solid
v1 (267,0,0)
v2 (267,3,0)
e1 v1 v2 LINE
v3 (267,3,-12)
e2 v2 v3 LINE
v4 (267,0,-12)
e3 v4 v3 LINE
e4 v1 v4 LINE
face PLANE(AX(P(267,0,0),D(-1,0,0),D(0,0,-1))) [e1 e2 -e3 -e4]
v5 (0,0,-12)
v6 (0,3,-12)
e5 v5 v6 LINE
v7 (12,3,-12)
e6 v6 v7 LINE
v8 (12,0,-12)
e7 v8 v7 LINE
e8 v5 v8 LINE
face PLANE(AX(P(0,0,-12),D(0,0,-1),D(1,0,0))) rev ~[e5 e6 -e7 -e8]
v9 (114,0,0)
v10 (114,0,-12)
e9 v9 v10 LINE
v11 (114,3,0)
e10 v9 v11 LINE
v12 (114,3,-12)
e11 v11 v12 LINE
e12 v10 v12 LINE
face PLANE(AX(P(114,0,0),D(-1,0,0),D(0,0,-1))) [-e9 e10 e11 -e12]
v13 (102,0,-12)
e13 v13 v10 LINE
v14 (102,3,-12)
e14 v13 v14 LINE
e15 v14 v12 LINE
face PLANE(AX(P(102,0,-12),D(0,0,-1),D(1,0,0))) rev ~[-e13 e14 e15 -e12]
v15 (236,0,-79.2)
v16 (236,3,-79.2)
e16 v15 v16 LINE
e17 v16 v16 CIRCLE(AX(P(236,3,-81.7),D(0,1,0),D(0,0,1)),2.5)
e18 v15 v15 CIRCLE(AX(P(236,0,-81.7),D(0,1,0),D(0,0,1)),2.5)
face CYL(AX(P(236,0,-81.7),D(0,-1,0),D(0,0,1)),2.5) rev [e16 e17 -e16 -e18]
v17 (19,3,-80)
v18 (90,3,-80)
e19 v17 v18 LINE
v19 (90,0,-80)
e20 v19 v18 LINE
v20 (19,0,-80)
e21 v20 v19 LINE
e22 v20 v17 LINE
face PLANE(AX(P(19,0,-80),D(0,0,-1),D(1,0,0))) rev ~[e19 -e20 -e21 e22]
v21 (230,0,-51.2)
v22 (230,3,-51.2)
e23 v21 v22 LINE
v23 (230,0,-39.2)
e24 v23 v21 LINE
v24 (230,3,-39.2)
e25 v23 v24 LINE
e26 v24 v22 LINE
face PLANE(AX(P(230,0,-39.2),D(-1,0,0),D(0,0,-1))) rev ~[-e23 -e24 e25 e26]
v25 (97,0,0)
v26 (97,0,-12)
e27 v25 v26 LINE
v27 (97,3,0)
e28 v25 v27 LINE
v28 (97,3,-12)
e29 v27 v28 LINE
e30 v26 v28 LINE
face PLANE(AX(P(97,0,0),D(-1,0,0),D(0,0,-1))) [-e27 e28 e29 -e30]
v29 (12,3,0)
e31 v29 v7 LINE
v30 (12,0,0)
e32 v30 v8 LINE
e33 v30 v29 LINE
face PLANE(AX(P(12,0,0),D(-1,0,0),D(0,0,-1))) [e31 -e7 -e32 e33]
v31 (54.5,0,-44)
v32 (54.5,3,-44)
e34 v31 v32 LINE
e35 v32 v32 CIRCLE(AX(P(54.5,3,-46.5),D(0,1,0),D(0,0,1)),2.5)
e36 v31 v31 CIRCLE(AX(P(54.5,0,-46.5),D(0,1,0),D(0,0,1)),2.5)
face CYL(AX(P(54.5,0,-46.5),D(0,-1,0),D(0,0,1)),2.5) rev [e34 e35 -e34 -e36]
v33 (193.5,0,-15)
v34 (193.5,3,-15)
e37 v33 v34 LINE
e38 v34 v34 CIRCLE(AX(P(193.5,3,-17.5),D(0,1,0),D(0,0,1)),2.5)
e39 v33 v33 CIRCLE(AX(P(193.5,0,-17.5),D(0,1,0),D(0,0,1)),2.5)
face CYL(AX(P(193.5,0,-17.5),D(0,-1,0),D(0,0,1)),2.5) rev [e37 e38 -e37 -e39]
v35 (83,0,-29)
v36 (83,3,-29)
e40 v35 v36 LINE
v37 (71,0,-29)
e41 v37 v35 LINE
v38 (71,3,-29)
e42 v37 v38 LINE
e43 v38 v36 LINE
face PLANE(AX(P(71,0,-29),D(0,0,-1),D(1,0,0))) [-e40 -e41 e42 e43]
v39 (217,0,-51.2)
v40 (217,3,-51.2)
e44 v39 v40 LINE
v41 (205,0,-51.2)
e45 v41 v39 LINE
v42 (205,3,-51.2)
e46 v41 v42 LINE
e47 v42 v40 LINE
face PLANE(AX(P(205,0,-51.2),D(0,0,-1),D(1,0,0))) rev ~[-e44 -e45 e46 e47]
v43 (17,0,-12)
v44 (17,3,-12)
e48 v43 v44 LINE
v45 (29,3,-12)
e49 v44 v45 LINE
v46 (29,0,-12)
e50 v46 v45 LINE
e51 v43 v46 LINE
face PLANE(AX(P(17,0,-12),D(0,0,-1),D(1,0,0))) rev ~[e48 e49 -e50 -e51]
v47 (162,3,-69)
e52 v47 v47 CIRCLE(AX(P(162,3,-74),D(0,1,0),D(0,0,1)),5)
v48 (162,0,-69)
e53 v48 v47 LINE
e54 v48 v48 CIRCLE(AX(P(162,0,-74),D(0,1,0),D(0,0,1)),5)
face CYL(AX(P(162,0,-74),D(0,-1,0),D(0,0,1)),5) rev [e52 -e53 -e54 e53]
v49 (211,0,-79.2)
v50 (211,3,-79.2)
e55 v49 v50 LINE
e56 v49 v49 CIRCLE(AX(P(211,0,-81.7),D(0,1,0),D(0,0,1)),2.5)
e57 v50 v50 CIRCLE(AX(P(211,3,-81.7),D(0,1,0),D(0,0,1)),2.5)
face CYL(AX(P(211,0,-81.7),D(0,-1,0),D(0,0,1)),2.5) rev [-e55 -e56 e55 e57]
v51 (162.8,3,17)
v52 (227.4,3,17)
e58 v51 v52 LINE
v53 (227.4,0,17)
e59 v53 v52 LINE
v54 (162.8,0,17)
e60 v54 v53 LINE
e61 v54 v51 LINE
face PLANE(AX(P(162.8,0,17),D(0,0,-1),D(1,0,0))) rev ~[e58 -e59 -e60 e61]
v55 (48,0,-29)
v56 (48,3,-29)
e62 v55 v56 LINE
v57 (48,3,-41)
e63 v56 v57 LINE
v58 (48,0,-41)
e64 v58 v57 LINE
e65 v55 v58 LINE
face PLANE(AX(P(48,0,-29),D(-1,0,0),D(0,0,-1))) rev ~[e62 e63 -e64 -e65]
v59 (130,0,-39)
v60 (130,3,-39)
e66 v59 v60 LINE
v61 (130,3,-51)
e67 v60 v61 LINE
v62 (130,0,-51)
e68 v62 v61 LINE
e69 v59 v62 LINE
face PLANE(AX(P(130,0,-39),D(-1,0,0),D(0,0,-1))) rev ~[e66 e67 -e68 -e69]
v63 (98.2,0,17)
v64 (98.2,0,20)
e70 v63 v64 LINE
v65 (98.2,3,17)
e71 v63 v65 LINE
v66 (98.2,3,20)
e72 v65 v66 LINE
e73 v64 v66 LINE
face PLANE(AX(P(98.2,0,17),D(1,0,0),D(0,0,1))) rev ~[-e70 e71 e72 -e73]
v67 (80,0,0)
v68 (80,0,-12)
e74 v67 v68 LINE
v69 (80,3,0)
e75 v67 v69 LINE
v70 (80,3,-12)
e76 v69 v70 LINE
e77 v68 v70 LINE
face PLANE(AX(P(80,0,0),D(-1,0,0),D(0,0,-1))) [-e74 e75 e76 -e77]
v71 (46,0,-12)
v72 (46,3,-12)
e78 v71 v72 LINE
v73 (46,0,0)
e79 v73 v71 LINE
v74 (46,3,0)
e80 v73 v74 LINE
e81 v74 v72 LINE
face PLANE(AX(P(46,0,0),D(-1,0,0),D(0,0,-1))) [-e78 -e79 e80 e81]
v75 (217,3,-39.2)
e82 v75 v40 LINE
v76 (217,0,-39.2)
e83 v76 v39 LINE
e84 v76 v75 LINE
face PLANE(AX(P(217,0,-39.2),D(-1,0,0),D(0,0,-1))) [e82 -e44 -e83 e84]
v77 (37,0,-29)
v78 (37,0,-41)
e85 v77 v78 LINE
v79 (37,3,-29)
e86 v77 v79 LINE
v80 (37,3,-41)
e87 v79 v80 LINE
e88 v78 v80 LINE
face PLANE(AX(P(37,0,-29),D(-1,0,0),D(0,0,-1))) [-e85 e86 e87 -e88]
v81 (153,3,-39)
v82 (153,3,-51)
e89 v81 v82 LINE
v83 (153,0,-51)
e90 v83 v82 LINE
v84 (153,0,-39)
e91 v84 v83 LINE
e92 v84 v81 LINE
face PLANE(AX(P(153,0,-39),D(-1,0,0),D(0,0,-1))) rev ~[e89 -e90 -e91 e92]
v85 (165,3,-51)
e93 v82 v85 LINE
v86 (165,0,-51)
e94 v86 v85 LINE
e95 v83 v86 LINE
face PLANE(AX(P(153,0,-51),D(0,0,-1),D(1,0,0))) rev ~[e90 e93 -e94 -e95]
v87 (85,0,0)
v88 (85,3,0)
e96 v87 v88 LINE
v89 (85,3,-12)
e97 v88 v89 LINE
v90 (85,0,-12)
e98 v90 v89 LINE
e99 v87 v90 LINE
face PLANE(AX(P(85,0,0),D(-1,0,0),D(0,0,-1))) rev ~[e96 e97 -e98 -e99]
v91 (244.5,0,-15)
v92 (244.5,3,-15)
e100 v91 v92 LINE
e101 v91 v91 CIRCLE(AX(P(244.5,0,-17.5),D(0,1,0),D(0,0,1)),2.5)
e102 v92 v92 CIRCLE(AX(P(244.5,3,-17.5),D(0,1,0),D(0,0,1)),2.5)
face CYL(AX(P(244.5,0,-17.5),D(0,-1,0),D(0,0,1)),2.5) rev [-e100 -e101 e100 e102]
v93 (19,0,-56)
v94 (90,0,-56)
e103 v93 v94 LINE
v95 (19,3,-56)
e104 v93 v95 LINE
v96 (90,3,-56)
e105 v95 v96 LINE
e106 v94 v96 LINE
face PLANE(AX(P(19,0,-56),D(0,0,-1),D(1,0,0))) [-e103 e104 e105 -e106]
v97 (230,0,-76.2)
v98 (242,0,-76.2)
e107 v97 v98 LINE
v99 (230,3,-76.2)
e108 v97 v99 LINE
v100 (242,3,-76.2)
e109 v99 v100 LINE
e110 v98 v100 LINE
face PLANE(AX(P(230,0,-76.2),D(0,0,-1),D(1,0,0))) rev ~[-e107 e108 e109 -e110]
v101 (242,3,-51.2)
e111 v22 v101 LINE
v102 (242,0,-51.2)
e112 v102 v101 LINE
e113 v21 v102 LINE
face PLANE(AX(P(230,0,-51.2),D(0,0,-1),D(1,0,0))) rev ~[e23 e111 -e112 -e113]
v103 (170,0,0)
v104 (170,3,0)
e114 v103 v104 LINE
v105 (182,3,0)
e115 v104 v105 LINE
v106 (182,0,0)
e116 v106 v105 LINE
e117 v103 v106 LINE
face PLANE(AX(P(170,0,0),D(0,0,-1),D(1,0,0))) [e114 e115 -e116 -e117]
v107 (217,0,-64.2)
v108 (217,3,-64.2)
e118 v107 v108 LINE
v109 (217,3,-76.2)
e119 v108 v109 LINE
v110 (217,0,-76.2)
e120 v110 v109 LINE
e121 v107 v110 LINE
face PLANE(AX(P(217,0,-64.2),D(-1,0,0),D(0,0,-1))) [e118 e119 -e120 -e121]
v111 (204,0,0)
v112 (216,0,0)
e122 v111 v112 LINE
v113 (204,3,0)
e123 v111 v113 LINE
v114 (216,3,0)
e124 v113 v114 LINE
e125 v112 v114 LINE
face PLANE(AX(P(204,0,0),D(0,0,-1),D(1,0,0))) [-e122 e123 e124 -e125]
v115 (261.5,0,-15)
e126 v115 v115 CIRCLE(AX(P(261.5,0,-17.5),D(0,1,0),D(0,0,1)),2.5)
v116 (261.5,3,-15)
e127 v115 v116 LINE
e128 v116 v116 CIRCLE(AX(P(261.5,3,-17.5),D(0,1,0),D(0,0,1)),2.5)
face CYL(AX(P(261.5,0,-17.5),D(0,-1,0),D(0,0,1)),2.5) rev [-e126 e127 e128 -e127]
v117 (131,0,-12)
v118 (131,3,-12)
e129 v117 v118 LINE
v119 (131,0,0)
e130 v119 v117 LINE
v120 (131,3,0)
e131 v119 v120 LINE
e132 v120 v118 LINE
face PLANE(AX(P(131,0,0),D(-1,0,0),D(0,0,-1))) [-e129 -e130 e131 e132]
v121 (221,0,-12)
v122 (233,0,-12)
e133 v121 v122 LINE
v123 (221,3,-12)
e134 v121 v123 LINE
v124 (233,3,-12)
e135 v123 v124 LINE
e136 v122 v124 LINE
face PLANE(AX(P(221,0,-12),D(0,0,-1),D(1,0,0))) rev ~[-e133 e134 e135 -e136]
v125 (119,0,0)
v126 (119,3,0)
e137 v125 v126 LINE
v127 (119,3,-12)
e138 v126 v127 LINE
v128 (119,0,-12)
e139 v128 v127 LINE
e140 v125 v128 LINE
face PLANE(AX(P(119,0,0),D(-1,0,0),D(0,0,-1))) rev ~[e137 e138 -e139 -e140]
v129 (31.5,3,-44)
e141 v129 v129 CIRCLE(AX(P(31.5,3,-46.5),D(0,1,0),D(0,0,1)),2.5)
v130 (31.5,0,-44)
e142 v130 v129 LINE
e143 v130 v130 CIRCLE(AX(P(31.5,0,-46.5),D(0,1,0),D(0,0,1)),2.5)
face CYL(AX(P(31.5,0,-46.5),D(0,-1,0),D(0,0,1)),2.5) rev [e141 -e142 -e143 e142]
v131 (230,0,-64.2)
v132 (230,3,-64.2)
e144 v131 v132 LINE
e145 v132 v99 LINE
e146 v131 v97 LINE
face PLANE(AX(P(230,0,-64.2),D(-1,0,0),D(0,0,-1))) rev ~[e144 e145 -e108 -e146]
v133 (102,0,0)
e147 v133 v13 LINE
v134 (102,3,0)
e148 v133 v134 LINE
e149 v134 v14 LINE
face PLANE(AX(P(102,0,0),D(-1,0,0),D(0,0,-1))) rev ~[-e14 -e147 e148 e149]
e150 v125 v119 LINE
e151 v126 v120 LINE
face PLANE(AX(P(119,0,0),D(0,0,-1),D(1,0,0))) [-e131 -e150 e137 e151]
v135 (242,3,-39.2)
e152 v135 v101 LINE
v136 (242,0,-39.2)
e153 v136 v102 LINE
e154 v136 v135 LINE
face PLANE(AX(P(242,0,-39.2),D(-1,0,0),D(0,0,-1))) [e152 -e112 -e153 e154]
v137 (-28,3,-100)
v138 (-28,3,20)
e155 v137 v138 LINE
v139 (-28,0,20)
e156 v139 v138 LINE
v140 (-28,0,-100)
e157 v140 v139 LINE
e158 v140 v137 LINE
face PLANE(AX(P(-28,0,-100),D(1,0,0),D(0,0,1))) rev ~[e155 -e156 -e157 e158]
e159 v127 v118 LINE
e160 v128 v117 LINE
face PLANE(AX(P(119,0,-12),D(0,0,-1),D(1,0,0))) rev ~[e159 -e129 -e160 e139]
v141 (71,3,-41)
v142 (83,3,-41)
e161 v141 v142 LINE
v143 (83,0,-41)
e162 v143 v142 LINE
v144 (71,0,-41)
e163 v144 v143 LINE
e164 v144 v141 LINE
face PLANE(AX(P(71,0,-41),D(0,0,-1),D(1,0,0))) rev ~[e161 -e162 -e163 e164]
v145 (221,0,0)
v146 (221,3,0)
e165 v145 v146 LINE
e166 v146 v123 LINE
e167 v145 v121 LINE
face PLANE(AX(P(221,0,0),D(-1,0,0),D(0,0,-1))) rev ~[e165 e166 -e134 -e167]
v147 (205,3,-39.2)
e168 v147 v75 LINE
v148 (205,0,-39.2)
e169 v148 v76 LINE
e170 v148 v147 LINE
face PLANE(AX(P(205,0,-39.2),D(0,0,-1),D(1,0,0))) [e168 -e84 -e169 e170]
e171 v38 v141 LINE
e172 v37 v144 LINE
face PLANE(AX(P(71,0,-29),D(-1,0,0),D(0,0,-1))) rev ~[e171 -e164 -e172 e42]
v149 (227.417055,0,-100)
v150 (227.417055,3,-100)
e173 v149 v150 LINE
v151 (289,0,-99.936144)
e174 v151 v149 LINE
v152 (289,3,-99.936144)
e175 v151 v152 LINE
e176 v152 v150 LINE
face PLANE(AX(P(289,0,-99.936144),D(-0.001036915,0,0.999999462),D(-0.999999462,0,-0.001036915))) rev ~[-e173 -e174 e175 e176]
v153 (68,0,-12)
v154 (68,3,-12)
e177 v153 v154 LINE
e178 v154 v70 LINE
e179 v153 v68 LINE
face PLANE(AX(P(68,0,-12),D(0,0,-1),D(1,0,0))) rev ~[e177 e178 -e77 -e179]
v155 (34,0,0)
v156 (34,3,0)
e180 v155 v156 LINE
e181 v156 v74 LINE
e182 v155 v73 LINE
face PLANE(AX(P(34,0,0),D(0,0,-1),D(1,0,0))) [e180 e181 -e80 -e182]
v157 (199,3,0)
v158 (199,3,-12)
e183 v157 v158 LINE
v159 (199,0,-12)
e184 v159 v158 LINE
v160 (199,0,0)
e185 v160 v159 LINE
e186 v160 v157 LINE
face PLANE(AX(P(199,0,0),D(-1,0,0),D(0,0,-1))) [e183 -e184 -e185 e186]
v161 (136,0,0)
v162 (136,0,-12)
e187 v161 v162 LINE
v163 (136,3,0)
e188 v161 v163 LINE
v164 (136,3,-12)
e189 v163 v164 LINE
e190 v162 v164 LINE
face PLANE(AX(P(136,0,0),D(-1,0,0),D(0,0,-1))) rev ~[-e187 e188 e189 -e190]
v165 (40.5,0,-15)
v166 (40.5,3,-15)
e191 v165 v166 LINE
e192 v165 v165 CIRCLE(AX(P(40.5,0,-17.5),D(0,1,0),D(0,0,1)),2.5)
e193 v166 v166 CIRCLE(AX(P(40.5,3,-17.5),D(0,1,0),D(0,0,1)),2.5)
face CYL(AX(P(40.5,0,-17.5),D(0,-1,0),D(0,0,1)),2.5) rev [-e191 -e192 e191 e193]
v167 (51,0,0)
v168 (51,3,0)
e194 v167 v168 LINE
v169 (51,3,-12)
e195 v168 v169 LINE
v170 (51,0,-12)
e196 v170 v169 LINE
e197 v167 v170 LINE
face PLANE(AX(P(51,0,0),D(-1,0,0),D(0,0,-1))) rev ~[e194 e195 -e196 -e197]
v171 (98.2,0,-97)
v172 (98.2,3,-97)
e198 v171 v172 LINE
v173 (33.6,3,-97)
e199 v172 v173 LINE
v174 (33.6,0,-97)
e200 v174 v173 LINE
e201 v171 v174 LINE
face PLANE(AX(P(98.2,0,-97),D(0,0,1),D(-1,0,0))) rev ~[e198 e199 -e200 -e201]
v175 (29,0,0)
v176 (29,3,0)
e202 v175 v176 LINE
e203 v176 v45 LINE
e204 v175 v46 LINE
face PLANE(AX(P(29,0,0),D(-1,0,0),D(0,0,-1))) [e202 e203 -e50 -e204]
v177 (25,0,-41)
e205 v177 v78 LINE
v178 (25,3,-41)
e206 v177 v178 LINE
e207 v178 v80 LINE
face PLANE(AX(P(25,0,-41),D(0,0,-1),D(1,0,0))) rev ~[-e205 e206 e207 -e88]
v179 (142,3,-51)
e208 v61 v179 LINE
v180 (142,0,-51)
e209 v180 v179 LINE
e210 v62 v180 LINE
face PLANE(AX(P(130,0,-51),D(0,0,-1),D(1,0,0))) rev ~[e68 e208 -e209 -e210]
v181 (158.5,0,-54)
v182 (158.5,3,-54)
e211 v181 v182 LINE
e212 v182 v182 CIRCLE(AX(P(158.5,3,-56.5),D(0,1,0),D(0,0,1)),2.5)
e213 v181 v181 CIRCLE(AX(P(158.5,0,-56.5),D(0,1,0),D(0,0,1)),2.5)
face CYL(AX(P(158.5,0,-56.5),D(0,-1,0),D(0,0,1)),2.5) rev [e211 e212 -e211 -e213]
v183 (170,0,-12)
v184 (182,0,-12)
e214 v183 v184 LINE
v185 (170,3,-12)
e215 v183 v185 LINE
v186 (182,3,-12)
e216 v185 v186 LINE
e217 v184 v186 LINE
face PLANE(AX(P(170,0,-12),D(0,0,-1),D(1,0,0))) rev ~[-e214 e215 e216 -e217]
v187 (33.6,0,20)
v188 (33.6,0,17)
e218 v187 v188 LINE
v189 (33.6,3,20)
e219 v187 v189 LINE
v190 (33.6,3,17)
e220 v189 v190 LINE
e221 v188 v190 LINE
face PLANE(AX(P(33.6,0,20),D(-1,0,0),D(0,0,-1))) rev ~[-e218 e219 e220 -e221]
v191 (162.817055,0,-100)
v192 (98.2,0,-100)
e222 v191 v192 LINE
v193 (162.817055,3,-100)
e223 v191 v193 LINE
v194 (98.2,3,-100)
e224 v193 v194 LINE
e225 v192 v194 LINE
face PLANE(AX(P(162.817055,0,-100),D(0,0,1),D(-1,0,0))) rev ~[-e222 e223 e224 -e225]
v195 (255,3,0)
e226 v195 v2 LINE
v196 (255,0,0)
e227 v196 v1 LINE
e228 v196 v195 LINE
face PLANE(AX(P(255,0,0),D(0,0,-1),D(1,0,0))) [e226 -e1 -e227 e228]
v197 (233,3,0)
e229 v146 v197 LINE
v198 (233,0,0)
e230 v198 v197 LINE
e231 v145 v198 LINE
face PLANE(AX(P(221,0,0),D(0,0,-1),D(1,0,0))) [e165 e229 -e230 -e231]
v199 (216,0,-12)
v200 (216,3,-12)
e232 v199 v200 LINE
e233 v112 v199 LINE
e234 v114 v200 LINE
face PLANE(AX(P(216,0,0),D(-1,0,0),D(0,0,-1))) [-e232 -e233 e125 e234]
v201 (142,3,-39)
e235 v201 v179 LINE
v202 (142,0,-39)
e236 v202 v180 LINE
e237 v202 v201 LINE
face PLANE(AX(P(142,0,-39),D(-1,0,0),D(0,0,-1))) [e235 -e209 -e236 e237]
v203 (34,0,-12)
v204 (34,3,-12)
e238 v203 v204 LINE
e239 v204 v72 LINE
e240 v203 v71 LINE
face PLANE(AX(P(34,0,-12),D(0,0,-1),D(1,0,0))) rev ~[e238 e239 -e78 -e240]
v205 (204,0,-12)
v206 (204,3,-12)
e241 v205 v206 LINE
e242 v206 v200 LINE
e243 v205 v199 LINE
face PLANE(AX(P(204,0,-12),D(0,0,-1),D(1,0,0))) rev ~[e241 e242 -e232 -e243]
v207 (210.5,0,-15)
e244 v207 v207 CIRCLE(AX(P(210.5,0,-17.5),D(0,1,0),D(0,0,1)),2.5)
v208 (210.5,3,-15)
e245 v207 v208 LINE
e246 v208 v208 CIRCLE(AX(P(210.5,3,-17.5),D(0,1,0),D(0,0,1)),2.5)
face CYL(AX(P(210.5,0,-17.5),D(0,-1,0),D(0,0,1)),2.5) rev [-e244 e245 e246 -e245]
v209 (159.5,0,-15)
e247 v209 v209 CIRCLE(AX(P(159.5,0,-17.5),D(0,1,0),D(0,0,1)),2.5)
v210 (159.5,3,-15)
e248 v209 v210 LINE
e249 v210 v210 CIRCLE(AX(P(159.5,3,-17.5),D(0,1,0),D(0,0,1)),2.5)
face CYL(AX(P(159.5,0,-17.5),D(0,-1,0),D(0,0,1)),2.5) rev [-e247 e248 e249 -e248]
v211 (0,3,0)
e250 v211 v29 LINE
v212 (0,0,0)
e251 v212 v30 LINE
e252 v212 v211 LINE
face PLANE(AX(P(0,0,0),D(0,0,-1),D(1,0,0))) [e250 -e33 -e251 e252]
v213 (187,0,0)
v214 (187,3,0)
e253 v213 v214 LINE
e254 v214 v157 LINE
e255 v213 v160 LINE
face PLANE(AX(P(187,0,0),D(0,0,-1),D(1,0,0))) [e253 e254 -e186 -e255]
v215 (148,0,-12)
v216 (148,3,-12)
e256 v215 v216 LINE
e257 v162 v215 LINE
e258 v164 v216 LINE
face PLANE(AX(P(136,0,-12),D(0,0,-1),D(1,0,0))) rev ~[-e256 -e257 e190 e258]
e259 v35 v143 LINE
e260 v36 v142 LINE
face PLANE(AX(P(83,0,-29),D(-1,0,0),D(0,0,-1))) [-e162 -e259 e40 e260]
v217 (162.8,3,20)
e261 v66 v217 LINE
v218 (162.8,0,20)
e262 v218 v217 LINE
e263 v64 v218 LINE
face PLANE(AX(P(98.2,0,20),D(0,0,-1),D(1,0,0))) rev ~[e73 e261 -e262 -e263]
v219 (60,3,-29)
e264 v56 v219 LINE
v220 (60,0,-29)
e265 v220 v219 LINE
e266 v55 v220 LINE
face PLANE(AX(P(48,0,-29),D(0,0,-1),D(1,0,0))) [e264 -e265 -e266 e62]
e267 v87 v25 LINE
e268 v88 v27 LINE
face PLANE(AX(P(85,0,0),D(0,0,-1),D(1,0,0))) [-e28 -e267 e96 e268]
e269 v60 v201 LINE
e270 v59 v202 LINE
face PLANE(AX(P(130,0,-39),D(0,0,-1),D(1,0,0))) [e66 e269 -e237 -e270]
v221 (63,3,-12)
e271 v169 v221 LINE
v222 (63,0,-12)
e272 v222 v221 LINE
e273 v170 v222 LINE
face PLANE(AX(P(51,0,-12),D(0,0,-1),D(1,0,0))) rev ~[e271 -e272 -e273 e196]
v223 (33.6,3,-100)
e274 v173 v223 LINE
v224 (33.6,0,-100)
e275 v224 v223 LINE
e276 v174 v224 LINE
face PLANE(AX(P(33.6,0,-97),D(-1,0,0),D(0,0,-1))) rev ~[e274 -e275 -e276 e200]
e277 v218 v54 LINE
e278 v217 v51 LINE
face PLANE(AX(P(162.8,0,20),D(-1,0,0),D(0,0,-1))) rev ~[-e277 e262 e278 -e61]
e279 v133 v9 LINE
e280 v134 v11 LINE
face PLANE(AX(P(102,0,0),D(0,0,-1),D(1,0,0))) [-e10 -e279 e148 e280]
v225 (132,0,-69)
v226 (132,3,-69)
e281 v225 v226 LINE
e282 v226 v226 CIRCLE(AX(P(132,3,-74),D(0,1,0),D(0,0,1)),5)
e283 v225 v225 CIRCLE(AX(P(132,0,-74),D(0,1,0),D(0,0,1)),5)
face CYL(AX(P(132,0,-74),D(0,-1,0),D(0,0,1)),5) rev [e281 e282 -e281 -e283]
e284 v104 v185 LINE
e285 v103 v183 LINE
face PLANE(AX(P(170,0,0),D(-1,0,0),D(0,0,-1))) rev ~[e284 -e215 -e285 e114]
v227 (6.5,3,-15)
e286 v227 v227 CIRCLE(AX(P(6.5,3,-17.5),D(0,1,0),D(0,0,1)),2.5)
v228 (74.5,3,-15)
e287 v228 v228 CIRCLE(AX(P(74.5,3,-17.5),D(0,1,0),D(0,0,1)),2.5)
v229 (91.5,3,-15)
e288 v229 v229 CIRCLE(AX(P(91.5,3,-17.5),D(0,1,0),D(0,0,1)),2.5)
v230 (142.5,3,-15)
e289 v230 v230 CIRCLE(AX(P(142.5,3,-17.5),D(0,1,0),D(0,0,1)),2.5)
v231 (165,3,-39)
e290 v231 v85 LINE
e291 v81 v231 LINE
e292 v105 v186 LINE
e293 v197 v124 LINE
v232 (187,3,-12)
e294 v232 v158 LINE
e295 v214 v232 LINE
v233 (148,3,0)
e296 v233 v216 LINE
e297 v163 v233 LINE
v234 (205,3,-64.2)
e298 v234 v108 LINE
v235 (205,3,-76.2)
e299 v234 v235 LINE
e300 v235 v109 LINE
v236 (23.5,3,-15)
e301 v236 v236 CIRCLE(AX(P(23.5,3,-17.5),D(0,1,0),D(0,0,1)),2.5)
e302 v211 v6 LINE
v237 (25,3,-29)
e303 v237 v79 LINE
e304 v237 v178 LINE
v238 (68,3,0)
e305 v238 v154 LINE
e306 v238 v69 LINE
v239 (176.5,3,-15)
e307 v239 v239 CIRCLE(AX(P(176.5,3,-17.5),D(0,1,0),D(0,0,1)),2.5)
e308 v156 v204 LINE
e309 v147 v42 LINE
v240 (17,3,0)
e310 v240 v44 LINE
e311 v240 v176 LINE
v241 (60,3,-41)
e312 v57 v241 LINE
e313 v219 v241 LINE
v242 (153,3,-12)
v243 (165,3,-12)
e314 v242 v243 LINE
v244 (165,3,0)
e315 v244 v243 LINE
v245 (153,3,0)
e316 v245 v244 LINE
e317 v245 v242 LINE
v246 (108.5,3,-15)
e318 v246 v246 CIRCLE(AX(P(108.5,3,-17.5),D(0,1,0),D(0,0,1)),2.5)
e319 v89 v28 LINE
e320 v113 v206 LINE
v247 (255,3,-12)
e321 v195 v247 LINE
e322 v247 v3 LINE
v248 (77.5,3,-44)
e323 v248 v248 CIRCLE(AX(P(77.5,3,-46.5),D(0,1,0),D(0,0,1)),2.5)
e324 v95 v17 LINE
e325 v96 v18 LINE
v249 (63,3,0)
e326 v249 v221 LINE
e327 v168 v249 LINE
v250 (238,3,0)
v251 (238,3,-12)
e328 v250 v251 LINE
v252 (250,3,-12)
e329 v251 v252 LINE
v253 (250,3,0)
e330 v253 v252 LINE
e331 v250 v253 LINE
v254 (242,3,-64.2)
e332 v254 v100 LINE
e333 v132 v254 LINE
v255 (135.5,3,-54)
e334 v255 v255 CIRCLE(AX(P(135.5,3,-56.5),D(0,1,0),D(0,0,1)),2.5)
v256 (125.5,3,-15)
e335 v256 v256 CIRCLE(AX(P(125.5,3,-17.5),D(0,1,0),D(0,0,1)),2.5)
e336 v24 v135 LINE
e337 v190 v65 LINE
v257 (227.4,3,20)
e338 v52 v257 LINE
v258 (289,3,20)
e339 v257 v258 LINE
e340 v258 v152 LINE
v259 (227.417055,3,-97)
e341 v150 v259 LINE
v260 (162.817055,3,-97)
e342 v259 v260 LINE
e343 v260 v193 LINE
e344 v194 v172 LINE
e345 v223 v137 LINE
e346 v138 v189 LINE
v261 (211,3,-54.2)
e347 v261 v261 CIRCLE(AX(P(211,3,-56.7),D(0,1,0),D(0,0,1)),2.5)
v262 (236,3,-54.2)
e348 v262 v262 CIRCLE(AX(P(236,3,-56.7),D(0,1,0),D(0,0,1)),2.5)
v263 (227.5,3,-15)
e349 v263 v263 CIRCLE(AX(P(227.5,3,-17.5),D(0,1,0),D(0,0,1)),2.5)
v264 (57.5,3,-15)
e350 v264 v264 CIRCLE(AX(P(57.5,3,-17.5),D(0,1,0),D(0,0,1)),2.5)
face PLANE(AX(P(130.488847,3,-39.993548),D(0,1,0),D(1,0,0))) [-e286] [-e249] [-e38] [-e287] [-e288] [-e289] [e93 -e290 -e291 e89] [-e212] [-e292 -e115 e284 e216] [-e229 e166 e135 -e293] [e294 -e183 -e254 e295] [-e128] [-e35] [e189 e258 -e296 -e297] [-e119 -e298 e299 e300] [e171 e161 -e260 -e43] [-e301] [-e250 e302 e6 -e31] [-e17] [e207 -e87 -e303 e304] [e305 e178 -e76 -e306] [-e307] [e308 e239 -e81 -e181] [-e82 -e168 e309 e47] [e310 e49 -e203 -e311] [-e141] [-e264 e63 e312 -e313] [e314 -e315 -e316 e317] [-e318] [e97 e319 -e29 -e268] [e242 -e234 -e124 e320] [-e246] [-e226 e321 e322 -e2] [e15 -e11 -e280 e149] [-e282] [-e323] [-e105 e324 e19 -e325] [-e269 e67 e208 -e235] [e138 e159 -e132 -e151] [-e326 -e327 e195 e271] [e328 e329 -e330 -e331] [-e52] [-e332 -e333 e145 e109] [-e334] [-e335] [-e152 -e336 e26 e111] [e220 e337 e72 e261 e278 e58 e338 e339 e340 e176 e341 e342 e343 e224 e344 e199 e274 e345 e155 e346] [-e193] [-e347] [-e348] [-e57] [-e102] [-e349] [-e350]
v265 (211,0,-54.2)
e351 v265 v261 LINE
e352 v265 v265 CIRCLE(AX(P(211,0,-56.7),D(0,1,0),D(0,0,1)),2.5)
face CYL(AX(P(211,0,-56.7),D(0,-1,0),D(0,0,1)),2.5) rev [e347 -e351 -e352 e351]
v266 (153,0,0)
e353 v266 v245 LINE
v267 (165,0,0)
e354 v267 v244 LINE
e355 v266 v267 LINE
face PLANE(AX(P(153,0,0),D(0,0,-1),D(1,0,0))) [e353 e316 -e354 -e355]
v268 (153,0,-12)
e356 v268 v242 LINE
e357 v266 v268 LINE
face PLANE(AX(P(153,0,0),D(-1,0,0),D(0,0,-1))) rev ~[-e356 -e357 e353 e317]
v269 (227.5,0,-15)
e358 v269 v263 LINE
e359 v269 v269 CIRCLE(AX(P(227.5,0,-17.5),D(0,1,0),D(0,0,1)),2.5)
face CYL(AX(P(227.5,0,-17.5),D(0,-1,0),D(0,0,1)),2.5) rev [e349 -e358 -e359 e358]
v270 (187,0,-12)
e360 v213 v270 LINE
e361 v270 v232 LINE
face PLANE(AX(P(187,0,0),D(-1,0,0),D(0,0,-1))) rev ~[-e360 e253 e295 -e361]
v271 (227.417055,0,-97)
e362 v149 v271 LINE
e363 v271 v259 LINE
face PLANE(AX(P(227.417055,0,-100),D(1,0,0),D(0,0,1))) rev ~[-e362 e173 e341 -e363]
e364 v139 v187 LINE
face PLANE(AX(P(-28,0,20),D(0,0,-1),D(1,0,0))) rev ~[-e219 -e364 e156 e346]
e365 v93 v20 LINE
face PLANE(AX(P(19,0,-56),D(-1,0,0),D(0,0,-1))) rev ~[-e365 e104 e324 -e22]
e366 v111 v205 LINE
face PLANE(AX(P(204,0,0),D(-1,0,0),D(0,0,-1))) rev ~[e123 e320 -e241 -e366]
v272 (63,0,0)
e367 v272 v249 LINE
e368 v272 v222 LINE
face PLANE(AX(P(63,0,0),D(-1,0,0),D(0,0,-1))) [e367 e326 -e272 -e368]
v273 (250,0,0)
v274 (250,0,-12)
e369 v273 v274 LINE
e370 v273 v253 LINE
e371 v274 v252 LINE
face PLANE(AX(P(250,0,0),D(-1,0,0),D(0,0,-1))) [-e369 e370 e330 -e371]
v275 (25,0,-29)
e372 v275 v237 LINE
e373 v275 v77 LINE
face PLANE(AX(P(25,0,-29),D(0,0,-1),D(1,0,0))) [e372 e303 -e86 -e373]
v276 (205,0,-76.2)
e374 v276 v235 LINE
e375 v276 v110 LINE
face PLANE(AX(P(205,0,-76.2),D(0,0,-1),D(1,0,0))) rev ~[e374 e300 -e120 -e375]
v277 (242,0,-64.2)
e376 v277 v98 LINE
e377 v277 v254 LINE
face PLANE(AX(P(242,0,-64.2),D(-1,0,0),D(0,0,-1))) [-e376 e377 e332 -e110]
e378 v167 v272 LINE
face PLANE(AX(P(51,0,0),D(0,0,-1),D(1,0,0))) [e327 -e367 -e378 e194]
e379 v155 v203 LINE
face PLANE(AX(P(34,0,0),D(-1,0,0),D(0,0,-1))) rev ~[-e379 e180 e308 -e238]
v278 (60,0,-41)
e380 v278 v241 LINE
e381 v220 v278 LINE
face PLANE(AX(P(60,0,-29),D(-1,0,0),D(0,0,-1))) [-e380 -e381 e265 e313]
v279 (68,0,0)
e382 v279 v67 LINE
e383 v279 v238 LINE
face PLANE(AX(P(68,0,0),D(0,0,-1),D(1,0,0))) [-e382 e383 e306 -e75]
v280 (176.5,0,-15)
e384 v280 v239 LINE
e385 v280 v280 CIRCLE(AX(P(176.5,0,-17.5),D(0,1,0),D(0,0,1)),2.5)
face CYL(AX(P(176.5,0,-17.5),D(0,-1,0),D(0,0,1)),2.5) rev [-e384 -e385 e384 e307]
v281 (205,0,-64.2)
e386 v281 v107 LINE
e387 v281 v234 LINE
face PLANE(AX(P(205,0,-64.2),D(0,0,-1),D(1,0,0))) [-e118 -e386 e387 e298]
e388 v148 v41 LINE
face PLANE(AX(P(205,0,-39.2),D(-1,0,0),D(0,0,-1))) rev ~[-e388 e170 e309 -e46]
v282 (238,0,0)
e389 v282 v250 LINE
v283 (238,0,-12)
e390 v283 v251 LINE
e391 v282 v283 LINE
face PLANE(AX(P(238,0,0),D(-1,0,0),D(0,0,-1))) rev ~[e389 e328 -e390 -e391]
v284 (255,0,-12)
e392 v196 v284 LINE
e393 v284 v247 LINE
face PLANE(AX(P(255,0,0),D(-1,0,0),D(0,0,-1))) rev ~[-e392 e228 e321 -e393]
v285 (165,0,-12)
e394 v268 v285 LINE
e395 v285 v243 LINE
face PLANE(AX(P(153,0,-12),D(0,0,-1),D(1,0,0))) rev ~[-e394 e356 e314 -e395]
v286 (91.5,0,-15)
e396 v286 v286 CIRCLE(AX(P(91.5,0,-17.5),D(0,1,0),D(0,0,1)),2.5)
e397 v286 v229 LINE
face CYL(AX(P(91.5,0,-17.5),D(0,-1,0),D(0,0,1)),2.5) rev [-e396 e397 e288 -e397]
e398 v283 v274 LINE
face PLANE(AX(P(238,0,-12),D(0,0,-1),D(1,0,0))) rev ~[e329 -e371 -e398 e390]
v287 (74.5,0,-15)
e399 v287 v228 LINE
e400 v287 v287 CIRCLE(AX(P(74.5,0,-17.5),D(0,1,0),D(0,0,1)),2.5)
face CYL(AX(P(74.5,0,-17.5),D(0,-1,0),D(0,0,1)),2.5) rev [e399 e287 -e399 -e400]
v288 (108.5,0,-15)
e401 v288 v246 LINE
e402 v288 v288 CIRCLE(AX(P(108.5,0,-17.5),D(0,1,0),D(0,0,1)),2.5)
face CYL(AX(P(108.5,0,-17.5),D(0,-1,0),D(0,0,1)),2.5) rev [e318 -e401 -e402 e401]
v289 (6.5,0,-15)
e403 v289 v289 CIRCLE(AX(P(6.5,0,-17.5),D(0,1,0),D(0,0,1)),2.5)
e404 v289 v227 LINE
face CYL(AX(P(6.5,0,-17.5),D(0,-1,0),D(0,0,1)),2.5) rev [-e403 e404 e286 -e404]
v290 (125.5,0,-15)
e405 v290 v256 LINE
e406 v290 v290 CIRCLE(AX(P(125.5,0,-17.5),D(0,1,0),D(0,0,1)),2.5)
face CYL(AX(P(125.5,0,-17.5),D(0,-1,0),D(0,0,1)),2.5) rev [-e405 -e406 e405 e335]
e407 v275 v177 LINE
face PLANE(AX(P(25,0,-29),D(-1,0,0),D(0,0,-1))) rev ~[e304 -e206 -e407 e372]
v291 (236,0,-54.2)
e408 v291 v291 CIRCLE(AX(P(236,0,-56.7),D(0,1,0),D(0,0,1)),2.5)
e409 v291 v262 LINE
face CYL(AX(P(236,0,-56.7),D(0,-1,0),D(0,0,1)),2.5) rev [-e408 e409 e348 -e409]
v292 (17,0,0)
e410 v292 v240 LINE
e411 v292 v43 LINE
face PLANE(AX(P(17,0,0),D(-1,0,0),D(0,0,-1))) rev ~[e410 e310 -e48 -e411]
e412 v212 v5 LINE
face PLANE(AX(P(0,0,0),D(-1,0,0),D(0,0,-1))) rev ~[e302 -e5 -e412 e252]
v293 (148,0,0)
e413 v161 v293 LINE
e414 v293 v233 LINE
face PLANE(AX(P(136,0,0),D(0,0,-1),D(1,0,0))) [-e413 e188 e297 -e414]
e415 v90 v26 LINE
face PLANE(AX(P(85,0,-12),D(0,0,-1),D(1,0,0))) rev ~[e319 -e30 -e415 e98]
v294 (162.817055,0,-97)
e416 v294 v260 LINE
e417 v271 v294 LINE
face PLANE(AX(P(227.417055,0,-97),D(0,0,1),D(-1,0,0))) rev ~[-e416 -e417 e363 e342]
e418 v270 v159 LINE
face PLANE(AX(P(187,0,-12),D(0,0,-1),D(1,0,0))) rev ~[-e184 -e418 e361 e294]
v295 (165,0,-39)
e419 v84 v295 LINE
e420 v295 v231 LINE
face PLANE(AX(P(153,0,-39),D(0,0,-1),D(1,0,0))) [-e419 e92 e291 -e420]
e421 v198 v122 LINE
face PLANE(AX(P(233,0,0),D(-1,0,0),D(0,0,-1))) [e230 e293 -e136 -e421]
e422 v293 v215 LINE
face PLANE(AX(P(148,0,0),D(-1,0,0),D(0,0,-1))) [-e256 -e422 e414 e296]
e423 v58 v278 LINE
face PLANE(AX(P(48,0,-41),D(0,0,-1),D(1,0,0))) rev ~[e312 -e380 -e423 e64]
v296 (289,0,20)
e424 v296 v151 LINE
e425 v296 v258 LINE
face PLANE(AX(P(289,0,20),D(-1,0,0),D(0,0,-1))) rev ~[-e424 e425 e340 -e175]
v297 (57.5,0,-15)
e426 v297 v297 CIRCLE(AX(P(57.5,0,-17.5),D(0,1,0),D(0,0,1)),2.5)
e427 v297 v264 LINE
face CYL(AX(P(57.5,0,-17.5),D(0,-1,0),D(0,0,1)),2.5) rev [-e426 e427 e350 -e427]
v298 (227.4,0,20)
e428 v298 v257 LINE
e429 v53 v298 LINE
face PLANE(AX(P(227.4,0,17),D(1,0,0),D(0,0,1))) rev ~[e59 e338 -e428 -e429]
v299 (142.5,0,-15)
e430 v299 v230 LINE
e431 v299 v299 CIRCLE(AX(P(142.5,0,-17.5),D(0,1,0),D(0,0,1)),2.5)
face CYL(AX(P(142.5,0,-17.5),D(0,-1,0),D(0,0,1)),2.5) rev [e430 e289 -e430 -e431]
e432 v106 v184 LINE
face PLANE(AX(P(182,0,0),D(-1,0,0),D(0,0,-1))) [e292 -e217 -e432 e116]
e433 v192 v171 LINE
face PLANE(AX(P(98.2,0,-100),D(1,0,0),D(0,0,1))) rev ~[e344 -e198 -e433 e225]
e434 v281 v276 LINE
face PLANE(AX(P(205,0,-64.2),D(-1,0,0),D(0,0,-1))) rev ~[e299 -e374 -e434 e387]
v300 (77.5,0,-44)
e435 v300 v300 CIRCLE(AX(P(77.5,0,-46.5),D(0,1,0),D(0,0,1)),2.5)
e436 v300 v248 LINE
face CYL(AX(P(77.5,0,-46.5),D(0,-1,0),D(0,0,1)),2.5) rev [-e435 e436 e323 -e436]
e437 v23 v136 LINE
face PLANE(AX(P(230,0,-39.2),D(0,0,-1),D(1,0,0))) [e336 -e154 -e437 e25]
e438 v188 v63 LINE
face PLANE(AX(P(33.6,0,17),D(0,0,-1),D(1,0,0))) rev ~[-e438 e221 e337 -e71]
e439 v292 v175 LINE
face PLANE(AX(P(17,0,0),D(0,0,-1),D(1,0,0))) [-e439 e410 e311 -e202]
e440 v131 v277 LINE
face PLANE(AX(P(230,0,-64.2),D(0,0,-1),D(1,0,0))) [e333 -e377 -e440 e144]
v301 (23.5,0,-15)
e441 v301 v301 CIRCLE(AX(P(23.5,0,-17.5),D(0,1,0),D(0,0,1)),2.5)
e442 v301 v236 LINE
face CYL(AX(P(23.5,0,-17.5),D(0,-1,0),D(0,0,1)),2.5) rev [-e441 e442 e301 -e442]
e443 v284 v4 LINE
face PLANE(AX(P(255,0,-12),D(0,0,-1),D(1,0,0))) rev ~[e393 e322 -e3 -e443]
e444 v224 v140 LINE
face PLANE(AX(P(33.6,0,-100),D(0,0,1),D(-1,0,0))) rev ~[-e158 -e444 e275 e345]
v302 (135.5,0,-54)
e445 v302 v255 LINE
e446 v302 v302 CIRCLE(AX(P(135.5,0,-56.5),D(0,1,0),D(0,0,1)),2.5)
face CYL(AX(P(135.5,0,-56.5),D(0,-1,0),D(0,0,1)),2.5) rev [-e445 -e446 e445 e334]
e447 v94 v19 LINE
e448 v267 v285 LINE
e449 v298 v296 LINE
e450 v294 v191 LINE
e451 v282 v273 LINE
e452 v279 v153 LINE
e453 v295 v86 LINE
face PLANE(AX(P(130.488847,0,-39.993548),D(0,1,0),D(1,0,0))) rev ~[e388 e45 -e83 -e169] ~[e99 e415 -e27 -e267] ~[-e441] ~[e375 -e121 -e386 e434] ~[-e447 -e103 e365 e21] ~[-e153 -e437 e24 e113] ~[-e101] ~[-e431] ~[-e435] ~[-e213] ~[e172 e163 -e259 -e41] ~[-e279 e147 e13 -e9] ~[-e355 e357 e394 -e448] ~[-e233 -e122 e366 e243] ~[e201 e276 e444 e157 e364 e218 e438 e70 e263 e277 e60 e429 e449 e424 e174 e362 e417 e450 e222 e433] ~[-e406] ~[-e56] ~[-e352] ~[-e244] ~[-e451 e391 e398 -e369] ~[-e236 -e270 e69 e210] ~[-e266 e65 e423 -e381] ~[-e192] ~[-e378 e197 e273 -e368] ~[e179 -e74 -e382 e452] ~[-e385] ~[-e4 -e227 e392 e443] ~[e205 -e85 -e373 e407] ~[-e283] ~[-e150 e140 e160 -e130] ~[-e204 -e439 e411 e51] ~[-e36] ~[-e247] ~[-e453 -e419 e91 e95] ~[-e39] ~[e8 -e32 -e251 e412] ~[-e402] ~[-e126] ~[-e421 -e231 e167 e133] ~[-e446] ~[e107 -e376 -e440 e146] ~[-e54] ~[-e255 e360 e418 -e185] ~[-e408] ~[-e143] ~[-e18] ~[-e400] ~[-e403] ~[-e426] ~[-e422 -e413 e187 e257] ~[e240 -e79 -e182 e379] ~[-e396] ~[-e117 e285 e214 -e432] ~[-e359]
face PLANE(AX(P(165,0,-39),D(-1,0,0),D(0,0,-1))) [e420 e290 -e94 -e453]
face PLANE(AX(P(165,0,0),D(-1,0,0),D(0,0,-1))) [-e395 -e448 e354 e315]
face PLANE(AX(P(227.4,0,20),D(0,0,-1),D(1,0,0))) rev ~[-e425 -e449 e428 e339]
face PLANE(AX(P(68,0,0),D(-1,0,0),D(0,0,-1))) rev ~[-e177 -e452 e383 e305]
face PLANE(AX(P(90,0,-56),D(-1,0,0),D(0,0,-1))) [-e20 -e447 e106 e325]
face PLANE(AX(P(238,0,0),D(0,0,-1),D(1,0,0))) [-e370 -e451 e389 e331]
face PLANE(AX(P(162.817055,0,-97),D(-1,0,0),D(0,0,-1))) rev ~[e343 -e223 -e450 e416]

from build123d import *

# Parameters (mm, degrees)
SKETCH1_W           = 12
SKETCH1_H           = 12
SKETCH1_R           = 2.5
SKETCH1_W_2         = 71
SKETCH1_H_2         = 24
SKETCH1_R_2         = 5
BOSS_EXTRUDE1_DEPTH = 3


with BuildPart() as part:
    # Sketch1 → Boss-Extrude1 (new body)
    with BuildSketch(Plane(origin=(0, 0, 0), x_dir=(1, 0, 0), z_dir=(0, 1, 0))):
        Polygon((-28, -20), (33.6, -20), (33.6, -17), (98.2, -17), (98.2, -20), (162.8, -20), (162.8, -17), (227.4, -17), (227.4, -20), (289, -20), (289, 99.936143656), (227.417055149, 100), (227.417055149, 97), (162.817055149, 97), (162.817055149, 100), (98.2, 100), (98.2, 97), (33.6, 97), (33.6, 100), (-28, 100), align=None)
        with Locations((6, 6)):
            Rectangle(SKETCH1_W, SKETCH1_H, mode=Mode.SUBTRACT)
        with Locations((23, 6)):
            Rectangle(SKETCH1_W, SKETCH1_H, mode=Mode.SUBTRACT)
        with Locations((40, 6)):
            Rectangle(SKETCH1_W, SKETCH1_H, mode=Mode.SUBTRACT)
        with Locations((57, 6)):
            Rectangle(SKETCH1_W, SKETCH1_H, mode=Mode.SUBTRACT)
        with Locations((74, 6)):
            Rectangle(SKETCH1_W, SKETCH1_H, mode=Mode.SUBTRACT)
        with Locations((91, 6)):
            Rectangle(SKETCH1_W, SKETCH1_H, mode=Mode.SUBTRACT)
        with Locations((108, 6)):
            Rectangle(SKETCH1_W, SKETCH1_H, mode=Mode.SUBTRACT)
        with Locations((125, 6)):
            Rectangle(SKETCH1_W, SKETCH1_H, mode=Mode.SUBTRACT)
        with Locations(Location((6.5, 17.5, 0), (0, 0, 270))):
            Circle(SKETCH1_R, mode=Mode.SUBTRACT)
        with Locations(Location((23.5, 17.5, 0), (0, 0, 270))):
            Circle(SKETCH1_R, mode=Mode.SUBTRACT)
        with Locations(Location((40.5, 17.5, 0), (0, 0, 270))):
            Circle(SKETCH1_R, mode=Mode.SUBTRACT)
        with Locations((31, 35)):
            Rectangle(SKETCH1_W, SKETCH1_H, mode=Mode.SUBTRACT)
        with Locations(Location((57.5, 17.5, 0), (0, 0, 270))):
            Circle(SKETCH1_R, mode=Mode.SUBTRACT)
        with Locations(Location((74.5, 17.5, 0), (0, 0, 270))):
            Circle(SKETCH1_R, mode=Mode.SUBTRACT)
        with Locations(Location((91.5, 17.5, 0), (0, 0, 270))):
            Circle(SKETCH1_R, mode=Mode.SUBTRACT)
        with Locations(Location((108.5, 17.5, 0), (0, 0, 270))):
            Circle(SKETCH1_R, mode=Mode.SUBTRACT)
        with Locations(Location((125.5, 17.5, 0), (0, 0, 270))):
            Circle(SKETCH1_R, mode=Mode.SUBTRACT)
        with Locations((54, 35)):
            Rectangle(SKETCH1_W, SKETCH1_H, mode=Mode.SUBTRACT)
        with Locations((77, 35)):
            Rectangle(SKETCH1_W, SKETCH1_H, mode=Mode.SUBTRACT)
        with Locations((142, 6)):
            Rectangle(SKETCH1_W, SKETCH1_H, mode=Mode.SUBTRACT)
        with Locations((159, 6)):
            Rectangle(SKETCH1_W, SKETCH1_H, mode=Mode.SUBTRACT)
        with Locations((176, 6)):
            Rectangle(SKETCH1_W, SKETCH1_H, mode=Mode.SUBTRACT)
        with Locations((193, 6)):
            Rectangle(SKETCH1_W, SKETCH1_H, mode=Mode.SUBTRACT)
        with Locations((210, 6)):
            Rectangle(SKETCH1_W, SKETCH1_H, mode=Mode.SUBTRACT)
        with Locations((227, 6)):
            Rectangle(SKETCH1_W, SKETCH1_H, mode=Mode.SUBTRACT)
        with Locations((244, 6)):
            Rectangle(SKETCH1_W, SKETCH1_H, mode=Mode.SUBTRACT)
        with Locations((261, 6)):
            Rectangle(SKETCH1_W, SKETCH1_H, mode=Mode.SUBTRACT)
        with Locations(Location((142.5, 17.5, 0), (0, 0, 270))):
            Circle(SKETCH1_R, mode=Mode.SUBTRACT)
        with Locations(Location((159.5, 17.5, 0), (0, 0, 270))):
            Circle(SKETCH1_R, mode=Mode.SUBTRACT)
        with Locations(Location((176.5, 17.5, 0), (0, 0, 270))):
            Circle(SKETCH1_R, mode=Mode.SUBTRACT)
        with Locations(Location((193.5, 17.5, 0), (0, 0, 270))):
            Circle(SKETCH1_R, mode=Mode.SUBTRACT)
        with Locations(Location((210.5, 17.5, 0), (0, 0, 270))):
            Circle(SKETCH1_R, mode=Mode.SUBTRACT)
        with Locations(Location((227.5, 17.5, 0), (0, 0, 270))):
            Circle(SKETCH1_R, mode=Mode.SUBTRACT)
        with Locations(Location((244.5, 17.5, 0), (0, 0, 270))):
            Circle(SKETCH1_R, mode=Mode.SUBTRACT)
        with Locations(Location((261.5, 17.5, 0), (0, 0, 270))):
            Circle(SKETCH1_R, mode=Mode.SUBTRACT)
        with Locations(Location((31.5, 46.5, 0), (0, 0, 270))):
            Circle(SKETCH1_R, mode=Mode.SUBTRACT)
        with Locations(Location((54.5, 46.5, 0), (0, 0, 270))):
            Circle(SKETCH1_R, mode=Mode.SUBTRACT)
        with Locations(Location((77.5, 46.5, 0), (0, 0, 270))):
            Circle(SKETCH1_R, mode=Mode.SUBTRACT)
        with Locations((54.5, 68)):
            Rectangle(SKETCH1_W_2, SKETCH1_H_2, mode=Mode.SUBTRACT)
        with Locations((136, 45)):
            Rectangle(SKETCH1_W, SKETCH1_H, mode=Mode.SUBTRACT)
        with Locations((159, 45)):
            Rectangle(SKETCH1_W, SKETCH1_H, mode=Mode.SUBTRACT)
        with Locations(Location((135.5, 56.5, 0), (0, 0, 270))):
            Circle(SKETCH1_R, mode=Mode.SUBTRACT)
        with Locations(Location((158.5, 56.5, 0), (0, 0, 270))):
            Circle(SKETCH1_R, mode=Mode.SUBTRACT)
        with Locations((211, 45.2)):
            Rectangle(SKETCH1_W, SKETCH1_H, mode=Mode.SUBTRACT)
        with Locations((236, 45.2)):
            Rectangle(SKETCH1_W, SKETCH1_H, mode=Mode.SUBTRACT)
        with Locations(Location((211, 56.7, 0), (0, 0, 270))):
            Circle(SKETCH1_R, mode=Mode.SUBTRACT)
        with Locations(Location((236, 56.7, 0), (0, 0, 270))):
            Circle(SKETCH1_R, mode=Mode.SUBTRACT)
        with Locations(Location((132, 74, 0), (0, 0, 270))):
            Circle(SKETCH1_R_2, mode=Mode.SUBTRACT)
        with Locations(Location((162, 74, 0), (0, 0, 270))):
            Circle(SKETCH1_R_2, mode=Mode.SUBTRACT)
        with Locations((211, 70.2)):
            Rectangle(SKETCH1_W, SKETCH1_H, mode=Mode.SUBTRACT)
        with Locations((236, 70.2)):
            Rectangle(SKETCH1_W, SKETCH1_H, mode=Mode.SUBTRACT)
        with Locations(Location((211, 81.7, 0), (0, 0, 270))):
            Circle(SKETCH1_R, mode=Mode.SUBTRACT)
        with Locations(Location((236, 81.7, 0), (0, 0, 270))):
            Circle(SKETCH1_R, mode=Mode.SUBTRACT)
    extrude(amount=BOSS_EXTRUDE1_DEPTH)


solid = part.part
